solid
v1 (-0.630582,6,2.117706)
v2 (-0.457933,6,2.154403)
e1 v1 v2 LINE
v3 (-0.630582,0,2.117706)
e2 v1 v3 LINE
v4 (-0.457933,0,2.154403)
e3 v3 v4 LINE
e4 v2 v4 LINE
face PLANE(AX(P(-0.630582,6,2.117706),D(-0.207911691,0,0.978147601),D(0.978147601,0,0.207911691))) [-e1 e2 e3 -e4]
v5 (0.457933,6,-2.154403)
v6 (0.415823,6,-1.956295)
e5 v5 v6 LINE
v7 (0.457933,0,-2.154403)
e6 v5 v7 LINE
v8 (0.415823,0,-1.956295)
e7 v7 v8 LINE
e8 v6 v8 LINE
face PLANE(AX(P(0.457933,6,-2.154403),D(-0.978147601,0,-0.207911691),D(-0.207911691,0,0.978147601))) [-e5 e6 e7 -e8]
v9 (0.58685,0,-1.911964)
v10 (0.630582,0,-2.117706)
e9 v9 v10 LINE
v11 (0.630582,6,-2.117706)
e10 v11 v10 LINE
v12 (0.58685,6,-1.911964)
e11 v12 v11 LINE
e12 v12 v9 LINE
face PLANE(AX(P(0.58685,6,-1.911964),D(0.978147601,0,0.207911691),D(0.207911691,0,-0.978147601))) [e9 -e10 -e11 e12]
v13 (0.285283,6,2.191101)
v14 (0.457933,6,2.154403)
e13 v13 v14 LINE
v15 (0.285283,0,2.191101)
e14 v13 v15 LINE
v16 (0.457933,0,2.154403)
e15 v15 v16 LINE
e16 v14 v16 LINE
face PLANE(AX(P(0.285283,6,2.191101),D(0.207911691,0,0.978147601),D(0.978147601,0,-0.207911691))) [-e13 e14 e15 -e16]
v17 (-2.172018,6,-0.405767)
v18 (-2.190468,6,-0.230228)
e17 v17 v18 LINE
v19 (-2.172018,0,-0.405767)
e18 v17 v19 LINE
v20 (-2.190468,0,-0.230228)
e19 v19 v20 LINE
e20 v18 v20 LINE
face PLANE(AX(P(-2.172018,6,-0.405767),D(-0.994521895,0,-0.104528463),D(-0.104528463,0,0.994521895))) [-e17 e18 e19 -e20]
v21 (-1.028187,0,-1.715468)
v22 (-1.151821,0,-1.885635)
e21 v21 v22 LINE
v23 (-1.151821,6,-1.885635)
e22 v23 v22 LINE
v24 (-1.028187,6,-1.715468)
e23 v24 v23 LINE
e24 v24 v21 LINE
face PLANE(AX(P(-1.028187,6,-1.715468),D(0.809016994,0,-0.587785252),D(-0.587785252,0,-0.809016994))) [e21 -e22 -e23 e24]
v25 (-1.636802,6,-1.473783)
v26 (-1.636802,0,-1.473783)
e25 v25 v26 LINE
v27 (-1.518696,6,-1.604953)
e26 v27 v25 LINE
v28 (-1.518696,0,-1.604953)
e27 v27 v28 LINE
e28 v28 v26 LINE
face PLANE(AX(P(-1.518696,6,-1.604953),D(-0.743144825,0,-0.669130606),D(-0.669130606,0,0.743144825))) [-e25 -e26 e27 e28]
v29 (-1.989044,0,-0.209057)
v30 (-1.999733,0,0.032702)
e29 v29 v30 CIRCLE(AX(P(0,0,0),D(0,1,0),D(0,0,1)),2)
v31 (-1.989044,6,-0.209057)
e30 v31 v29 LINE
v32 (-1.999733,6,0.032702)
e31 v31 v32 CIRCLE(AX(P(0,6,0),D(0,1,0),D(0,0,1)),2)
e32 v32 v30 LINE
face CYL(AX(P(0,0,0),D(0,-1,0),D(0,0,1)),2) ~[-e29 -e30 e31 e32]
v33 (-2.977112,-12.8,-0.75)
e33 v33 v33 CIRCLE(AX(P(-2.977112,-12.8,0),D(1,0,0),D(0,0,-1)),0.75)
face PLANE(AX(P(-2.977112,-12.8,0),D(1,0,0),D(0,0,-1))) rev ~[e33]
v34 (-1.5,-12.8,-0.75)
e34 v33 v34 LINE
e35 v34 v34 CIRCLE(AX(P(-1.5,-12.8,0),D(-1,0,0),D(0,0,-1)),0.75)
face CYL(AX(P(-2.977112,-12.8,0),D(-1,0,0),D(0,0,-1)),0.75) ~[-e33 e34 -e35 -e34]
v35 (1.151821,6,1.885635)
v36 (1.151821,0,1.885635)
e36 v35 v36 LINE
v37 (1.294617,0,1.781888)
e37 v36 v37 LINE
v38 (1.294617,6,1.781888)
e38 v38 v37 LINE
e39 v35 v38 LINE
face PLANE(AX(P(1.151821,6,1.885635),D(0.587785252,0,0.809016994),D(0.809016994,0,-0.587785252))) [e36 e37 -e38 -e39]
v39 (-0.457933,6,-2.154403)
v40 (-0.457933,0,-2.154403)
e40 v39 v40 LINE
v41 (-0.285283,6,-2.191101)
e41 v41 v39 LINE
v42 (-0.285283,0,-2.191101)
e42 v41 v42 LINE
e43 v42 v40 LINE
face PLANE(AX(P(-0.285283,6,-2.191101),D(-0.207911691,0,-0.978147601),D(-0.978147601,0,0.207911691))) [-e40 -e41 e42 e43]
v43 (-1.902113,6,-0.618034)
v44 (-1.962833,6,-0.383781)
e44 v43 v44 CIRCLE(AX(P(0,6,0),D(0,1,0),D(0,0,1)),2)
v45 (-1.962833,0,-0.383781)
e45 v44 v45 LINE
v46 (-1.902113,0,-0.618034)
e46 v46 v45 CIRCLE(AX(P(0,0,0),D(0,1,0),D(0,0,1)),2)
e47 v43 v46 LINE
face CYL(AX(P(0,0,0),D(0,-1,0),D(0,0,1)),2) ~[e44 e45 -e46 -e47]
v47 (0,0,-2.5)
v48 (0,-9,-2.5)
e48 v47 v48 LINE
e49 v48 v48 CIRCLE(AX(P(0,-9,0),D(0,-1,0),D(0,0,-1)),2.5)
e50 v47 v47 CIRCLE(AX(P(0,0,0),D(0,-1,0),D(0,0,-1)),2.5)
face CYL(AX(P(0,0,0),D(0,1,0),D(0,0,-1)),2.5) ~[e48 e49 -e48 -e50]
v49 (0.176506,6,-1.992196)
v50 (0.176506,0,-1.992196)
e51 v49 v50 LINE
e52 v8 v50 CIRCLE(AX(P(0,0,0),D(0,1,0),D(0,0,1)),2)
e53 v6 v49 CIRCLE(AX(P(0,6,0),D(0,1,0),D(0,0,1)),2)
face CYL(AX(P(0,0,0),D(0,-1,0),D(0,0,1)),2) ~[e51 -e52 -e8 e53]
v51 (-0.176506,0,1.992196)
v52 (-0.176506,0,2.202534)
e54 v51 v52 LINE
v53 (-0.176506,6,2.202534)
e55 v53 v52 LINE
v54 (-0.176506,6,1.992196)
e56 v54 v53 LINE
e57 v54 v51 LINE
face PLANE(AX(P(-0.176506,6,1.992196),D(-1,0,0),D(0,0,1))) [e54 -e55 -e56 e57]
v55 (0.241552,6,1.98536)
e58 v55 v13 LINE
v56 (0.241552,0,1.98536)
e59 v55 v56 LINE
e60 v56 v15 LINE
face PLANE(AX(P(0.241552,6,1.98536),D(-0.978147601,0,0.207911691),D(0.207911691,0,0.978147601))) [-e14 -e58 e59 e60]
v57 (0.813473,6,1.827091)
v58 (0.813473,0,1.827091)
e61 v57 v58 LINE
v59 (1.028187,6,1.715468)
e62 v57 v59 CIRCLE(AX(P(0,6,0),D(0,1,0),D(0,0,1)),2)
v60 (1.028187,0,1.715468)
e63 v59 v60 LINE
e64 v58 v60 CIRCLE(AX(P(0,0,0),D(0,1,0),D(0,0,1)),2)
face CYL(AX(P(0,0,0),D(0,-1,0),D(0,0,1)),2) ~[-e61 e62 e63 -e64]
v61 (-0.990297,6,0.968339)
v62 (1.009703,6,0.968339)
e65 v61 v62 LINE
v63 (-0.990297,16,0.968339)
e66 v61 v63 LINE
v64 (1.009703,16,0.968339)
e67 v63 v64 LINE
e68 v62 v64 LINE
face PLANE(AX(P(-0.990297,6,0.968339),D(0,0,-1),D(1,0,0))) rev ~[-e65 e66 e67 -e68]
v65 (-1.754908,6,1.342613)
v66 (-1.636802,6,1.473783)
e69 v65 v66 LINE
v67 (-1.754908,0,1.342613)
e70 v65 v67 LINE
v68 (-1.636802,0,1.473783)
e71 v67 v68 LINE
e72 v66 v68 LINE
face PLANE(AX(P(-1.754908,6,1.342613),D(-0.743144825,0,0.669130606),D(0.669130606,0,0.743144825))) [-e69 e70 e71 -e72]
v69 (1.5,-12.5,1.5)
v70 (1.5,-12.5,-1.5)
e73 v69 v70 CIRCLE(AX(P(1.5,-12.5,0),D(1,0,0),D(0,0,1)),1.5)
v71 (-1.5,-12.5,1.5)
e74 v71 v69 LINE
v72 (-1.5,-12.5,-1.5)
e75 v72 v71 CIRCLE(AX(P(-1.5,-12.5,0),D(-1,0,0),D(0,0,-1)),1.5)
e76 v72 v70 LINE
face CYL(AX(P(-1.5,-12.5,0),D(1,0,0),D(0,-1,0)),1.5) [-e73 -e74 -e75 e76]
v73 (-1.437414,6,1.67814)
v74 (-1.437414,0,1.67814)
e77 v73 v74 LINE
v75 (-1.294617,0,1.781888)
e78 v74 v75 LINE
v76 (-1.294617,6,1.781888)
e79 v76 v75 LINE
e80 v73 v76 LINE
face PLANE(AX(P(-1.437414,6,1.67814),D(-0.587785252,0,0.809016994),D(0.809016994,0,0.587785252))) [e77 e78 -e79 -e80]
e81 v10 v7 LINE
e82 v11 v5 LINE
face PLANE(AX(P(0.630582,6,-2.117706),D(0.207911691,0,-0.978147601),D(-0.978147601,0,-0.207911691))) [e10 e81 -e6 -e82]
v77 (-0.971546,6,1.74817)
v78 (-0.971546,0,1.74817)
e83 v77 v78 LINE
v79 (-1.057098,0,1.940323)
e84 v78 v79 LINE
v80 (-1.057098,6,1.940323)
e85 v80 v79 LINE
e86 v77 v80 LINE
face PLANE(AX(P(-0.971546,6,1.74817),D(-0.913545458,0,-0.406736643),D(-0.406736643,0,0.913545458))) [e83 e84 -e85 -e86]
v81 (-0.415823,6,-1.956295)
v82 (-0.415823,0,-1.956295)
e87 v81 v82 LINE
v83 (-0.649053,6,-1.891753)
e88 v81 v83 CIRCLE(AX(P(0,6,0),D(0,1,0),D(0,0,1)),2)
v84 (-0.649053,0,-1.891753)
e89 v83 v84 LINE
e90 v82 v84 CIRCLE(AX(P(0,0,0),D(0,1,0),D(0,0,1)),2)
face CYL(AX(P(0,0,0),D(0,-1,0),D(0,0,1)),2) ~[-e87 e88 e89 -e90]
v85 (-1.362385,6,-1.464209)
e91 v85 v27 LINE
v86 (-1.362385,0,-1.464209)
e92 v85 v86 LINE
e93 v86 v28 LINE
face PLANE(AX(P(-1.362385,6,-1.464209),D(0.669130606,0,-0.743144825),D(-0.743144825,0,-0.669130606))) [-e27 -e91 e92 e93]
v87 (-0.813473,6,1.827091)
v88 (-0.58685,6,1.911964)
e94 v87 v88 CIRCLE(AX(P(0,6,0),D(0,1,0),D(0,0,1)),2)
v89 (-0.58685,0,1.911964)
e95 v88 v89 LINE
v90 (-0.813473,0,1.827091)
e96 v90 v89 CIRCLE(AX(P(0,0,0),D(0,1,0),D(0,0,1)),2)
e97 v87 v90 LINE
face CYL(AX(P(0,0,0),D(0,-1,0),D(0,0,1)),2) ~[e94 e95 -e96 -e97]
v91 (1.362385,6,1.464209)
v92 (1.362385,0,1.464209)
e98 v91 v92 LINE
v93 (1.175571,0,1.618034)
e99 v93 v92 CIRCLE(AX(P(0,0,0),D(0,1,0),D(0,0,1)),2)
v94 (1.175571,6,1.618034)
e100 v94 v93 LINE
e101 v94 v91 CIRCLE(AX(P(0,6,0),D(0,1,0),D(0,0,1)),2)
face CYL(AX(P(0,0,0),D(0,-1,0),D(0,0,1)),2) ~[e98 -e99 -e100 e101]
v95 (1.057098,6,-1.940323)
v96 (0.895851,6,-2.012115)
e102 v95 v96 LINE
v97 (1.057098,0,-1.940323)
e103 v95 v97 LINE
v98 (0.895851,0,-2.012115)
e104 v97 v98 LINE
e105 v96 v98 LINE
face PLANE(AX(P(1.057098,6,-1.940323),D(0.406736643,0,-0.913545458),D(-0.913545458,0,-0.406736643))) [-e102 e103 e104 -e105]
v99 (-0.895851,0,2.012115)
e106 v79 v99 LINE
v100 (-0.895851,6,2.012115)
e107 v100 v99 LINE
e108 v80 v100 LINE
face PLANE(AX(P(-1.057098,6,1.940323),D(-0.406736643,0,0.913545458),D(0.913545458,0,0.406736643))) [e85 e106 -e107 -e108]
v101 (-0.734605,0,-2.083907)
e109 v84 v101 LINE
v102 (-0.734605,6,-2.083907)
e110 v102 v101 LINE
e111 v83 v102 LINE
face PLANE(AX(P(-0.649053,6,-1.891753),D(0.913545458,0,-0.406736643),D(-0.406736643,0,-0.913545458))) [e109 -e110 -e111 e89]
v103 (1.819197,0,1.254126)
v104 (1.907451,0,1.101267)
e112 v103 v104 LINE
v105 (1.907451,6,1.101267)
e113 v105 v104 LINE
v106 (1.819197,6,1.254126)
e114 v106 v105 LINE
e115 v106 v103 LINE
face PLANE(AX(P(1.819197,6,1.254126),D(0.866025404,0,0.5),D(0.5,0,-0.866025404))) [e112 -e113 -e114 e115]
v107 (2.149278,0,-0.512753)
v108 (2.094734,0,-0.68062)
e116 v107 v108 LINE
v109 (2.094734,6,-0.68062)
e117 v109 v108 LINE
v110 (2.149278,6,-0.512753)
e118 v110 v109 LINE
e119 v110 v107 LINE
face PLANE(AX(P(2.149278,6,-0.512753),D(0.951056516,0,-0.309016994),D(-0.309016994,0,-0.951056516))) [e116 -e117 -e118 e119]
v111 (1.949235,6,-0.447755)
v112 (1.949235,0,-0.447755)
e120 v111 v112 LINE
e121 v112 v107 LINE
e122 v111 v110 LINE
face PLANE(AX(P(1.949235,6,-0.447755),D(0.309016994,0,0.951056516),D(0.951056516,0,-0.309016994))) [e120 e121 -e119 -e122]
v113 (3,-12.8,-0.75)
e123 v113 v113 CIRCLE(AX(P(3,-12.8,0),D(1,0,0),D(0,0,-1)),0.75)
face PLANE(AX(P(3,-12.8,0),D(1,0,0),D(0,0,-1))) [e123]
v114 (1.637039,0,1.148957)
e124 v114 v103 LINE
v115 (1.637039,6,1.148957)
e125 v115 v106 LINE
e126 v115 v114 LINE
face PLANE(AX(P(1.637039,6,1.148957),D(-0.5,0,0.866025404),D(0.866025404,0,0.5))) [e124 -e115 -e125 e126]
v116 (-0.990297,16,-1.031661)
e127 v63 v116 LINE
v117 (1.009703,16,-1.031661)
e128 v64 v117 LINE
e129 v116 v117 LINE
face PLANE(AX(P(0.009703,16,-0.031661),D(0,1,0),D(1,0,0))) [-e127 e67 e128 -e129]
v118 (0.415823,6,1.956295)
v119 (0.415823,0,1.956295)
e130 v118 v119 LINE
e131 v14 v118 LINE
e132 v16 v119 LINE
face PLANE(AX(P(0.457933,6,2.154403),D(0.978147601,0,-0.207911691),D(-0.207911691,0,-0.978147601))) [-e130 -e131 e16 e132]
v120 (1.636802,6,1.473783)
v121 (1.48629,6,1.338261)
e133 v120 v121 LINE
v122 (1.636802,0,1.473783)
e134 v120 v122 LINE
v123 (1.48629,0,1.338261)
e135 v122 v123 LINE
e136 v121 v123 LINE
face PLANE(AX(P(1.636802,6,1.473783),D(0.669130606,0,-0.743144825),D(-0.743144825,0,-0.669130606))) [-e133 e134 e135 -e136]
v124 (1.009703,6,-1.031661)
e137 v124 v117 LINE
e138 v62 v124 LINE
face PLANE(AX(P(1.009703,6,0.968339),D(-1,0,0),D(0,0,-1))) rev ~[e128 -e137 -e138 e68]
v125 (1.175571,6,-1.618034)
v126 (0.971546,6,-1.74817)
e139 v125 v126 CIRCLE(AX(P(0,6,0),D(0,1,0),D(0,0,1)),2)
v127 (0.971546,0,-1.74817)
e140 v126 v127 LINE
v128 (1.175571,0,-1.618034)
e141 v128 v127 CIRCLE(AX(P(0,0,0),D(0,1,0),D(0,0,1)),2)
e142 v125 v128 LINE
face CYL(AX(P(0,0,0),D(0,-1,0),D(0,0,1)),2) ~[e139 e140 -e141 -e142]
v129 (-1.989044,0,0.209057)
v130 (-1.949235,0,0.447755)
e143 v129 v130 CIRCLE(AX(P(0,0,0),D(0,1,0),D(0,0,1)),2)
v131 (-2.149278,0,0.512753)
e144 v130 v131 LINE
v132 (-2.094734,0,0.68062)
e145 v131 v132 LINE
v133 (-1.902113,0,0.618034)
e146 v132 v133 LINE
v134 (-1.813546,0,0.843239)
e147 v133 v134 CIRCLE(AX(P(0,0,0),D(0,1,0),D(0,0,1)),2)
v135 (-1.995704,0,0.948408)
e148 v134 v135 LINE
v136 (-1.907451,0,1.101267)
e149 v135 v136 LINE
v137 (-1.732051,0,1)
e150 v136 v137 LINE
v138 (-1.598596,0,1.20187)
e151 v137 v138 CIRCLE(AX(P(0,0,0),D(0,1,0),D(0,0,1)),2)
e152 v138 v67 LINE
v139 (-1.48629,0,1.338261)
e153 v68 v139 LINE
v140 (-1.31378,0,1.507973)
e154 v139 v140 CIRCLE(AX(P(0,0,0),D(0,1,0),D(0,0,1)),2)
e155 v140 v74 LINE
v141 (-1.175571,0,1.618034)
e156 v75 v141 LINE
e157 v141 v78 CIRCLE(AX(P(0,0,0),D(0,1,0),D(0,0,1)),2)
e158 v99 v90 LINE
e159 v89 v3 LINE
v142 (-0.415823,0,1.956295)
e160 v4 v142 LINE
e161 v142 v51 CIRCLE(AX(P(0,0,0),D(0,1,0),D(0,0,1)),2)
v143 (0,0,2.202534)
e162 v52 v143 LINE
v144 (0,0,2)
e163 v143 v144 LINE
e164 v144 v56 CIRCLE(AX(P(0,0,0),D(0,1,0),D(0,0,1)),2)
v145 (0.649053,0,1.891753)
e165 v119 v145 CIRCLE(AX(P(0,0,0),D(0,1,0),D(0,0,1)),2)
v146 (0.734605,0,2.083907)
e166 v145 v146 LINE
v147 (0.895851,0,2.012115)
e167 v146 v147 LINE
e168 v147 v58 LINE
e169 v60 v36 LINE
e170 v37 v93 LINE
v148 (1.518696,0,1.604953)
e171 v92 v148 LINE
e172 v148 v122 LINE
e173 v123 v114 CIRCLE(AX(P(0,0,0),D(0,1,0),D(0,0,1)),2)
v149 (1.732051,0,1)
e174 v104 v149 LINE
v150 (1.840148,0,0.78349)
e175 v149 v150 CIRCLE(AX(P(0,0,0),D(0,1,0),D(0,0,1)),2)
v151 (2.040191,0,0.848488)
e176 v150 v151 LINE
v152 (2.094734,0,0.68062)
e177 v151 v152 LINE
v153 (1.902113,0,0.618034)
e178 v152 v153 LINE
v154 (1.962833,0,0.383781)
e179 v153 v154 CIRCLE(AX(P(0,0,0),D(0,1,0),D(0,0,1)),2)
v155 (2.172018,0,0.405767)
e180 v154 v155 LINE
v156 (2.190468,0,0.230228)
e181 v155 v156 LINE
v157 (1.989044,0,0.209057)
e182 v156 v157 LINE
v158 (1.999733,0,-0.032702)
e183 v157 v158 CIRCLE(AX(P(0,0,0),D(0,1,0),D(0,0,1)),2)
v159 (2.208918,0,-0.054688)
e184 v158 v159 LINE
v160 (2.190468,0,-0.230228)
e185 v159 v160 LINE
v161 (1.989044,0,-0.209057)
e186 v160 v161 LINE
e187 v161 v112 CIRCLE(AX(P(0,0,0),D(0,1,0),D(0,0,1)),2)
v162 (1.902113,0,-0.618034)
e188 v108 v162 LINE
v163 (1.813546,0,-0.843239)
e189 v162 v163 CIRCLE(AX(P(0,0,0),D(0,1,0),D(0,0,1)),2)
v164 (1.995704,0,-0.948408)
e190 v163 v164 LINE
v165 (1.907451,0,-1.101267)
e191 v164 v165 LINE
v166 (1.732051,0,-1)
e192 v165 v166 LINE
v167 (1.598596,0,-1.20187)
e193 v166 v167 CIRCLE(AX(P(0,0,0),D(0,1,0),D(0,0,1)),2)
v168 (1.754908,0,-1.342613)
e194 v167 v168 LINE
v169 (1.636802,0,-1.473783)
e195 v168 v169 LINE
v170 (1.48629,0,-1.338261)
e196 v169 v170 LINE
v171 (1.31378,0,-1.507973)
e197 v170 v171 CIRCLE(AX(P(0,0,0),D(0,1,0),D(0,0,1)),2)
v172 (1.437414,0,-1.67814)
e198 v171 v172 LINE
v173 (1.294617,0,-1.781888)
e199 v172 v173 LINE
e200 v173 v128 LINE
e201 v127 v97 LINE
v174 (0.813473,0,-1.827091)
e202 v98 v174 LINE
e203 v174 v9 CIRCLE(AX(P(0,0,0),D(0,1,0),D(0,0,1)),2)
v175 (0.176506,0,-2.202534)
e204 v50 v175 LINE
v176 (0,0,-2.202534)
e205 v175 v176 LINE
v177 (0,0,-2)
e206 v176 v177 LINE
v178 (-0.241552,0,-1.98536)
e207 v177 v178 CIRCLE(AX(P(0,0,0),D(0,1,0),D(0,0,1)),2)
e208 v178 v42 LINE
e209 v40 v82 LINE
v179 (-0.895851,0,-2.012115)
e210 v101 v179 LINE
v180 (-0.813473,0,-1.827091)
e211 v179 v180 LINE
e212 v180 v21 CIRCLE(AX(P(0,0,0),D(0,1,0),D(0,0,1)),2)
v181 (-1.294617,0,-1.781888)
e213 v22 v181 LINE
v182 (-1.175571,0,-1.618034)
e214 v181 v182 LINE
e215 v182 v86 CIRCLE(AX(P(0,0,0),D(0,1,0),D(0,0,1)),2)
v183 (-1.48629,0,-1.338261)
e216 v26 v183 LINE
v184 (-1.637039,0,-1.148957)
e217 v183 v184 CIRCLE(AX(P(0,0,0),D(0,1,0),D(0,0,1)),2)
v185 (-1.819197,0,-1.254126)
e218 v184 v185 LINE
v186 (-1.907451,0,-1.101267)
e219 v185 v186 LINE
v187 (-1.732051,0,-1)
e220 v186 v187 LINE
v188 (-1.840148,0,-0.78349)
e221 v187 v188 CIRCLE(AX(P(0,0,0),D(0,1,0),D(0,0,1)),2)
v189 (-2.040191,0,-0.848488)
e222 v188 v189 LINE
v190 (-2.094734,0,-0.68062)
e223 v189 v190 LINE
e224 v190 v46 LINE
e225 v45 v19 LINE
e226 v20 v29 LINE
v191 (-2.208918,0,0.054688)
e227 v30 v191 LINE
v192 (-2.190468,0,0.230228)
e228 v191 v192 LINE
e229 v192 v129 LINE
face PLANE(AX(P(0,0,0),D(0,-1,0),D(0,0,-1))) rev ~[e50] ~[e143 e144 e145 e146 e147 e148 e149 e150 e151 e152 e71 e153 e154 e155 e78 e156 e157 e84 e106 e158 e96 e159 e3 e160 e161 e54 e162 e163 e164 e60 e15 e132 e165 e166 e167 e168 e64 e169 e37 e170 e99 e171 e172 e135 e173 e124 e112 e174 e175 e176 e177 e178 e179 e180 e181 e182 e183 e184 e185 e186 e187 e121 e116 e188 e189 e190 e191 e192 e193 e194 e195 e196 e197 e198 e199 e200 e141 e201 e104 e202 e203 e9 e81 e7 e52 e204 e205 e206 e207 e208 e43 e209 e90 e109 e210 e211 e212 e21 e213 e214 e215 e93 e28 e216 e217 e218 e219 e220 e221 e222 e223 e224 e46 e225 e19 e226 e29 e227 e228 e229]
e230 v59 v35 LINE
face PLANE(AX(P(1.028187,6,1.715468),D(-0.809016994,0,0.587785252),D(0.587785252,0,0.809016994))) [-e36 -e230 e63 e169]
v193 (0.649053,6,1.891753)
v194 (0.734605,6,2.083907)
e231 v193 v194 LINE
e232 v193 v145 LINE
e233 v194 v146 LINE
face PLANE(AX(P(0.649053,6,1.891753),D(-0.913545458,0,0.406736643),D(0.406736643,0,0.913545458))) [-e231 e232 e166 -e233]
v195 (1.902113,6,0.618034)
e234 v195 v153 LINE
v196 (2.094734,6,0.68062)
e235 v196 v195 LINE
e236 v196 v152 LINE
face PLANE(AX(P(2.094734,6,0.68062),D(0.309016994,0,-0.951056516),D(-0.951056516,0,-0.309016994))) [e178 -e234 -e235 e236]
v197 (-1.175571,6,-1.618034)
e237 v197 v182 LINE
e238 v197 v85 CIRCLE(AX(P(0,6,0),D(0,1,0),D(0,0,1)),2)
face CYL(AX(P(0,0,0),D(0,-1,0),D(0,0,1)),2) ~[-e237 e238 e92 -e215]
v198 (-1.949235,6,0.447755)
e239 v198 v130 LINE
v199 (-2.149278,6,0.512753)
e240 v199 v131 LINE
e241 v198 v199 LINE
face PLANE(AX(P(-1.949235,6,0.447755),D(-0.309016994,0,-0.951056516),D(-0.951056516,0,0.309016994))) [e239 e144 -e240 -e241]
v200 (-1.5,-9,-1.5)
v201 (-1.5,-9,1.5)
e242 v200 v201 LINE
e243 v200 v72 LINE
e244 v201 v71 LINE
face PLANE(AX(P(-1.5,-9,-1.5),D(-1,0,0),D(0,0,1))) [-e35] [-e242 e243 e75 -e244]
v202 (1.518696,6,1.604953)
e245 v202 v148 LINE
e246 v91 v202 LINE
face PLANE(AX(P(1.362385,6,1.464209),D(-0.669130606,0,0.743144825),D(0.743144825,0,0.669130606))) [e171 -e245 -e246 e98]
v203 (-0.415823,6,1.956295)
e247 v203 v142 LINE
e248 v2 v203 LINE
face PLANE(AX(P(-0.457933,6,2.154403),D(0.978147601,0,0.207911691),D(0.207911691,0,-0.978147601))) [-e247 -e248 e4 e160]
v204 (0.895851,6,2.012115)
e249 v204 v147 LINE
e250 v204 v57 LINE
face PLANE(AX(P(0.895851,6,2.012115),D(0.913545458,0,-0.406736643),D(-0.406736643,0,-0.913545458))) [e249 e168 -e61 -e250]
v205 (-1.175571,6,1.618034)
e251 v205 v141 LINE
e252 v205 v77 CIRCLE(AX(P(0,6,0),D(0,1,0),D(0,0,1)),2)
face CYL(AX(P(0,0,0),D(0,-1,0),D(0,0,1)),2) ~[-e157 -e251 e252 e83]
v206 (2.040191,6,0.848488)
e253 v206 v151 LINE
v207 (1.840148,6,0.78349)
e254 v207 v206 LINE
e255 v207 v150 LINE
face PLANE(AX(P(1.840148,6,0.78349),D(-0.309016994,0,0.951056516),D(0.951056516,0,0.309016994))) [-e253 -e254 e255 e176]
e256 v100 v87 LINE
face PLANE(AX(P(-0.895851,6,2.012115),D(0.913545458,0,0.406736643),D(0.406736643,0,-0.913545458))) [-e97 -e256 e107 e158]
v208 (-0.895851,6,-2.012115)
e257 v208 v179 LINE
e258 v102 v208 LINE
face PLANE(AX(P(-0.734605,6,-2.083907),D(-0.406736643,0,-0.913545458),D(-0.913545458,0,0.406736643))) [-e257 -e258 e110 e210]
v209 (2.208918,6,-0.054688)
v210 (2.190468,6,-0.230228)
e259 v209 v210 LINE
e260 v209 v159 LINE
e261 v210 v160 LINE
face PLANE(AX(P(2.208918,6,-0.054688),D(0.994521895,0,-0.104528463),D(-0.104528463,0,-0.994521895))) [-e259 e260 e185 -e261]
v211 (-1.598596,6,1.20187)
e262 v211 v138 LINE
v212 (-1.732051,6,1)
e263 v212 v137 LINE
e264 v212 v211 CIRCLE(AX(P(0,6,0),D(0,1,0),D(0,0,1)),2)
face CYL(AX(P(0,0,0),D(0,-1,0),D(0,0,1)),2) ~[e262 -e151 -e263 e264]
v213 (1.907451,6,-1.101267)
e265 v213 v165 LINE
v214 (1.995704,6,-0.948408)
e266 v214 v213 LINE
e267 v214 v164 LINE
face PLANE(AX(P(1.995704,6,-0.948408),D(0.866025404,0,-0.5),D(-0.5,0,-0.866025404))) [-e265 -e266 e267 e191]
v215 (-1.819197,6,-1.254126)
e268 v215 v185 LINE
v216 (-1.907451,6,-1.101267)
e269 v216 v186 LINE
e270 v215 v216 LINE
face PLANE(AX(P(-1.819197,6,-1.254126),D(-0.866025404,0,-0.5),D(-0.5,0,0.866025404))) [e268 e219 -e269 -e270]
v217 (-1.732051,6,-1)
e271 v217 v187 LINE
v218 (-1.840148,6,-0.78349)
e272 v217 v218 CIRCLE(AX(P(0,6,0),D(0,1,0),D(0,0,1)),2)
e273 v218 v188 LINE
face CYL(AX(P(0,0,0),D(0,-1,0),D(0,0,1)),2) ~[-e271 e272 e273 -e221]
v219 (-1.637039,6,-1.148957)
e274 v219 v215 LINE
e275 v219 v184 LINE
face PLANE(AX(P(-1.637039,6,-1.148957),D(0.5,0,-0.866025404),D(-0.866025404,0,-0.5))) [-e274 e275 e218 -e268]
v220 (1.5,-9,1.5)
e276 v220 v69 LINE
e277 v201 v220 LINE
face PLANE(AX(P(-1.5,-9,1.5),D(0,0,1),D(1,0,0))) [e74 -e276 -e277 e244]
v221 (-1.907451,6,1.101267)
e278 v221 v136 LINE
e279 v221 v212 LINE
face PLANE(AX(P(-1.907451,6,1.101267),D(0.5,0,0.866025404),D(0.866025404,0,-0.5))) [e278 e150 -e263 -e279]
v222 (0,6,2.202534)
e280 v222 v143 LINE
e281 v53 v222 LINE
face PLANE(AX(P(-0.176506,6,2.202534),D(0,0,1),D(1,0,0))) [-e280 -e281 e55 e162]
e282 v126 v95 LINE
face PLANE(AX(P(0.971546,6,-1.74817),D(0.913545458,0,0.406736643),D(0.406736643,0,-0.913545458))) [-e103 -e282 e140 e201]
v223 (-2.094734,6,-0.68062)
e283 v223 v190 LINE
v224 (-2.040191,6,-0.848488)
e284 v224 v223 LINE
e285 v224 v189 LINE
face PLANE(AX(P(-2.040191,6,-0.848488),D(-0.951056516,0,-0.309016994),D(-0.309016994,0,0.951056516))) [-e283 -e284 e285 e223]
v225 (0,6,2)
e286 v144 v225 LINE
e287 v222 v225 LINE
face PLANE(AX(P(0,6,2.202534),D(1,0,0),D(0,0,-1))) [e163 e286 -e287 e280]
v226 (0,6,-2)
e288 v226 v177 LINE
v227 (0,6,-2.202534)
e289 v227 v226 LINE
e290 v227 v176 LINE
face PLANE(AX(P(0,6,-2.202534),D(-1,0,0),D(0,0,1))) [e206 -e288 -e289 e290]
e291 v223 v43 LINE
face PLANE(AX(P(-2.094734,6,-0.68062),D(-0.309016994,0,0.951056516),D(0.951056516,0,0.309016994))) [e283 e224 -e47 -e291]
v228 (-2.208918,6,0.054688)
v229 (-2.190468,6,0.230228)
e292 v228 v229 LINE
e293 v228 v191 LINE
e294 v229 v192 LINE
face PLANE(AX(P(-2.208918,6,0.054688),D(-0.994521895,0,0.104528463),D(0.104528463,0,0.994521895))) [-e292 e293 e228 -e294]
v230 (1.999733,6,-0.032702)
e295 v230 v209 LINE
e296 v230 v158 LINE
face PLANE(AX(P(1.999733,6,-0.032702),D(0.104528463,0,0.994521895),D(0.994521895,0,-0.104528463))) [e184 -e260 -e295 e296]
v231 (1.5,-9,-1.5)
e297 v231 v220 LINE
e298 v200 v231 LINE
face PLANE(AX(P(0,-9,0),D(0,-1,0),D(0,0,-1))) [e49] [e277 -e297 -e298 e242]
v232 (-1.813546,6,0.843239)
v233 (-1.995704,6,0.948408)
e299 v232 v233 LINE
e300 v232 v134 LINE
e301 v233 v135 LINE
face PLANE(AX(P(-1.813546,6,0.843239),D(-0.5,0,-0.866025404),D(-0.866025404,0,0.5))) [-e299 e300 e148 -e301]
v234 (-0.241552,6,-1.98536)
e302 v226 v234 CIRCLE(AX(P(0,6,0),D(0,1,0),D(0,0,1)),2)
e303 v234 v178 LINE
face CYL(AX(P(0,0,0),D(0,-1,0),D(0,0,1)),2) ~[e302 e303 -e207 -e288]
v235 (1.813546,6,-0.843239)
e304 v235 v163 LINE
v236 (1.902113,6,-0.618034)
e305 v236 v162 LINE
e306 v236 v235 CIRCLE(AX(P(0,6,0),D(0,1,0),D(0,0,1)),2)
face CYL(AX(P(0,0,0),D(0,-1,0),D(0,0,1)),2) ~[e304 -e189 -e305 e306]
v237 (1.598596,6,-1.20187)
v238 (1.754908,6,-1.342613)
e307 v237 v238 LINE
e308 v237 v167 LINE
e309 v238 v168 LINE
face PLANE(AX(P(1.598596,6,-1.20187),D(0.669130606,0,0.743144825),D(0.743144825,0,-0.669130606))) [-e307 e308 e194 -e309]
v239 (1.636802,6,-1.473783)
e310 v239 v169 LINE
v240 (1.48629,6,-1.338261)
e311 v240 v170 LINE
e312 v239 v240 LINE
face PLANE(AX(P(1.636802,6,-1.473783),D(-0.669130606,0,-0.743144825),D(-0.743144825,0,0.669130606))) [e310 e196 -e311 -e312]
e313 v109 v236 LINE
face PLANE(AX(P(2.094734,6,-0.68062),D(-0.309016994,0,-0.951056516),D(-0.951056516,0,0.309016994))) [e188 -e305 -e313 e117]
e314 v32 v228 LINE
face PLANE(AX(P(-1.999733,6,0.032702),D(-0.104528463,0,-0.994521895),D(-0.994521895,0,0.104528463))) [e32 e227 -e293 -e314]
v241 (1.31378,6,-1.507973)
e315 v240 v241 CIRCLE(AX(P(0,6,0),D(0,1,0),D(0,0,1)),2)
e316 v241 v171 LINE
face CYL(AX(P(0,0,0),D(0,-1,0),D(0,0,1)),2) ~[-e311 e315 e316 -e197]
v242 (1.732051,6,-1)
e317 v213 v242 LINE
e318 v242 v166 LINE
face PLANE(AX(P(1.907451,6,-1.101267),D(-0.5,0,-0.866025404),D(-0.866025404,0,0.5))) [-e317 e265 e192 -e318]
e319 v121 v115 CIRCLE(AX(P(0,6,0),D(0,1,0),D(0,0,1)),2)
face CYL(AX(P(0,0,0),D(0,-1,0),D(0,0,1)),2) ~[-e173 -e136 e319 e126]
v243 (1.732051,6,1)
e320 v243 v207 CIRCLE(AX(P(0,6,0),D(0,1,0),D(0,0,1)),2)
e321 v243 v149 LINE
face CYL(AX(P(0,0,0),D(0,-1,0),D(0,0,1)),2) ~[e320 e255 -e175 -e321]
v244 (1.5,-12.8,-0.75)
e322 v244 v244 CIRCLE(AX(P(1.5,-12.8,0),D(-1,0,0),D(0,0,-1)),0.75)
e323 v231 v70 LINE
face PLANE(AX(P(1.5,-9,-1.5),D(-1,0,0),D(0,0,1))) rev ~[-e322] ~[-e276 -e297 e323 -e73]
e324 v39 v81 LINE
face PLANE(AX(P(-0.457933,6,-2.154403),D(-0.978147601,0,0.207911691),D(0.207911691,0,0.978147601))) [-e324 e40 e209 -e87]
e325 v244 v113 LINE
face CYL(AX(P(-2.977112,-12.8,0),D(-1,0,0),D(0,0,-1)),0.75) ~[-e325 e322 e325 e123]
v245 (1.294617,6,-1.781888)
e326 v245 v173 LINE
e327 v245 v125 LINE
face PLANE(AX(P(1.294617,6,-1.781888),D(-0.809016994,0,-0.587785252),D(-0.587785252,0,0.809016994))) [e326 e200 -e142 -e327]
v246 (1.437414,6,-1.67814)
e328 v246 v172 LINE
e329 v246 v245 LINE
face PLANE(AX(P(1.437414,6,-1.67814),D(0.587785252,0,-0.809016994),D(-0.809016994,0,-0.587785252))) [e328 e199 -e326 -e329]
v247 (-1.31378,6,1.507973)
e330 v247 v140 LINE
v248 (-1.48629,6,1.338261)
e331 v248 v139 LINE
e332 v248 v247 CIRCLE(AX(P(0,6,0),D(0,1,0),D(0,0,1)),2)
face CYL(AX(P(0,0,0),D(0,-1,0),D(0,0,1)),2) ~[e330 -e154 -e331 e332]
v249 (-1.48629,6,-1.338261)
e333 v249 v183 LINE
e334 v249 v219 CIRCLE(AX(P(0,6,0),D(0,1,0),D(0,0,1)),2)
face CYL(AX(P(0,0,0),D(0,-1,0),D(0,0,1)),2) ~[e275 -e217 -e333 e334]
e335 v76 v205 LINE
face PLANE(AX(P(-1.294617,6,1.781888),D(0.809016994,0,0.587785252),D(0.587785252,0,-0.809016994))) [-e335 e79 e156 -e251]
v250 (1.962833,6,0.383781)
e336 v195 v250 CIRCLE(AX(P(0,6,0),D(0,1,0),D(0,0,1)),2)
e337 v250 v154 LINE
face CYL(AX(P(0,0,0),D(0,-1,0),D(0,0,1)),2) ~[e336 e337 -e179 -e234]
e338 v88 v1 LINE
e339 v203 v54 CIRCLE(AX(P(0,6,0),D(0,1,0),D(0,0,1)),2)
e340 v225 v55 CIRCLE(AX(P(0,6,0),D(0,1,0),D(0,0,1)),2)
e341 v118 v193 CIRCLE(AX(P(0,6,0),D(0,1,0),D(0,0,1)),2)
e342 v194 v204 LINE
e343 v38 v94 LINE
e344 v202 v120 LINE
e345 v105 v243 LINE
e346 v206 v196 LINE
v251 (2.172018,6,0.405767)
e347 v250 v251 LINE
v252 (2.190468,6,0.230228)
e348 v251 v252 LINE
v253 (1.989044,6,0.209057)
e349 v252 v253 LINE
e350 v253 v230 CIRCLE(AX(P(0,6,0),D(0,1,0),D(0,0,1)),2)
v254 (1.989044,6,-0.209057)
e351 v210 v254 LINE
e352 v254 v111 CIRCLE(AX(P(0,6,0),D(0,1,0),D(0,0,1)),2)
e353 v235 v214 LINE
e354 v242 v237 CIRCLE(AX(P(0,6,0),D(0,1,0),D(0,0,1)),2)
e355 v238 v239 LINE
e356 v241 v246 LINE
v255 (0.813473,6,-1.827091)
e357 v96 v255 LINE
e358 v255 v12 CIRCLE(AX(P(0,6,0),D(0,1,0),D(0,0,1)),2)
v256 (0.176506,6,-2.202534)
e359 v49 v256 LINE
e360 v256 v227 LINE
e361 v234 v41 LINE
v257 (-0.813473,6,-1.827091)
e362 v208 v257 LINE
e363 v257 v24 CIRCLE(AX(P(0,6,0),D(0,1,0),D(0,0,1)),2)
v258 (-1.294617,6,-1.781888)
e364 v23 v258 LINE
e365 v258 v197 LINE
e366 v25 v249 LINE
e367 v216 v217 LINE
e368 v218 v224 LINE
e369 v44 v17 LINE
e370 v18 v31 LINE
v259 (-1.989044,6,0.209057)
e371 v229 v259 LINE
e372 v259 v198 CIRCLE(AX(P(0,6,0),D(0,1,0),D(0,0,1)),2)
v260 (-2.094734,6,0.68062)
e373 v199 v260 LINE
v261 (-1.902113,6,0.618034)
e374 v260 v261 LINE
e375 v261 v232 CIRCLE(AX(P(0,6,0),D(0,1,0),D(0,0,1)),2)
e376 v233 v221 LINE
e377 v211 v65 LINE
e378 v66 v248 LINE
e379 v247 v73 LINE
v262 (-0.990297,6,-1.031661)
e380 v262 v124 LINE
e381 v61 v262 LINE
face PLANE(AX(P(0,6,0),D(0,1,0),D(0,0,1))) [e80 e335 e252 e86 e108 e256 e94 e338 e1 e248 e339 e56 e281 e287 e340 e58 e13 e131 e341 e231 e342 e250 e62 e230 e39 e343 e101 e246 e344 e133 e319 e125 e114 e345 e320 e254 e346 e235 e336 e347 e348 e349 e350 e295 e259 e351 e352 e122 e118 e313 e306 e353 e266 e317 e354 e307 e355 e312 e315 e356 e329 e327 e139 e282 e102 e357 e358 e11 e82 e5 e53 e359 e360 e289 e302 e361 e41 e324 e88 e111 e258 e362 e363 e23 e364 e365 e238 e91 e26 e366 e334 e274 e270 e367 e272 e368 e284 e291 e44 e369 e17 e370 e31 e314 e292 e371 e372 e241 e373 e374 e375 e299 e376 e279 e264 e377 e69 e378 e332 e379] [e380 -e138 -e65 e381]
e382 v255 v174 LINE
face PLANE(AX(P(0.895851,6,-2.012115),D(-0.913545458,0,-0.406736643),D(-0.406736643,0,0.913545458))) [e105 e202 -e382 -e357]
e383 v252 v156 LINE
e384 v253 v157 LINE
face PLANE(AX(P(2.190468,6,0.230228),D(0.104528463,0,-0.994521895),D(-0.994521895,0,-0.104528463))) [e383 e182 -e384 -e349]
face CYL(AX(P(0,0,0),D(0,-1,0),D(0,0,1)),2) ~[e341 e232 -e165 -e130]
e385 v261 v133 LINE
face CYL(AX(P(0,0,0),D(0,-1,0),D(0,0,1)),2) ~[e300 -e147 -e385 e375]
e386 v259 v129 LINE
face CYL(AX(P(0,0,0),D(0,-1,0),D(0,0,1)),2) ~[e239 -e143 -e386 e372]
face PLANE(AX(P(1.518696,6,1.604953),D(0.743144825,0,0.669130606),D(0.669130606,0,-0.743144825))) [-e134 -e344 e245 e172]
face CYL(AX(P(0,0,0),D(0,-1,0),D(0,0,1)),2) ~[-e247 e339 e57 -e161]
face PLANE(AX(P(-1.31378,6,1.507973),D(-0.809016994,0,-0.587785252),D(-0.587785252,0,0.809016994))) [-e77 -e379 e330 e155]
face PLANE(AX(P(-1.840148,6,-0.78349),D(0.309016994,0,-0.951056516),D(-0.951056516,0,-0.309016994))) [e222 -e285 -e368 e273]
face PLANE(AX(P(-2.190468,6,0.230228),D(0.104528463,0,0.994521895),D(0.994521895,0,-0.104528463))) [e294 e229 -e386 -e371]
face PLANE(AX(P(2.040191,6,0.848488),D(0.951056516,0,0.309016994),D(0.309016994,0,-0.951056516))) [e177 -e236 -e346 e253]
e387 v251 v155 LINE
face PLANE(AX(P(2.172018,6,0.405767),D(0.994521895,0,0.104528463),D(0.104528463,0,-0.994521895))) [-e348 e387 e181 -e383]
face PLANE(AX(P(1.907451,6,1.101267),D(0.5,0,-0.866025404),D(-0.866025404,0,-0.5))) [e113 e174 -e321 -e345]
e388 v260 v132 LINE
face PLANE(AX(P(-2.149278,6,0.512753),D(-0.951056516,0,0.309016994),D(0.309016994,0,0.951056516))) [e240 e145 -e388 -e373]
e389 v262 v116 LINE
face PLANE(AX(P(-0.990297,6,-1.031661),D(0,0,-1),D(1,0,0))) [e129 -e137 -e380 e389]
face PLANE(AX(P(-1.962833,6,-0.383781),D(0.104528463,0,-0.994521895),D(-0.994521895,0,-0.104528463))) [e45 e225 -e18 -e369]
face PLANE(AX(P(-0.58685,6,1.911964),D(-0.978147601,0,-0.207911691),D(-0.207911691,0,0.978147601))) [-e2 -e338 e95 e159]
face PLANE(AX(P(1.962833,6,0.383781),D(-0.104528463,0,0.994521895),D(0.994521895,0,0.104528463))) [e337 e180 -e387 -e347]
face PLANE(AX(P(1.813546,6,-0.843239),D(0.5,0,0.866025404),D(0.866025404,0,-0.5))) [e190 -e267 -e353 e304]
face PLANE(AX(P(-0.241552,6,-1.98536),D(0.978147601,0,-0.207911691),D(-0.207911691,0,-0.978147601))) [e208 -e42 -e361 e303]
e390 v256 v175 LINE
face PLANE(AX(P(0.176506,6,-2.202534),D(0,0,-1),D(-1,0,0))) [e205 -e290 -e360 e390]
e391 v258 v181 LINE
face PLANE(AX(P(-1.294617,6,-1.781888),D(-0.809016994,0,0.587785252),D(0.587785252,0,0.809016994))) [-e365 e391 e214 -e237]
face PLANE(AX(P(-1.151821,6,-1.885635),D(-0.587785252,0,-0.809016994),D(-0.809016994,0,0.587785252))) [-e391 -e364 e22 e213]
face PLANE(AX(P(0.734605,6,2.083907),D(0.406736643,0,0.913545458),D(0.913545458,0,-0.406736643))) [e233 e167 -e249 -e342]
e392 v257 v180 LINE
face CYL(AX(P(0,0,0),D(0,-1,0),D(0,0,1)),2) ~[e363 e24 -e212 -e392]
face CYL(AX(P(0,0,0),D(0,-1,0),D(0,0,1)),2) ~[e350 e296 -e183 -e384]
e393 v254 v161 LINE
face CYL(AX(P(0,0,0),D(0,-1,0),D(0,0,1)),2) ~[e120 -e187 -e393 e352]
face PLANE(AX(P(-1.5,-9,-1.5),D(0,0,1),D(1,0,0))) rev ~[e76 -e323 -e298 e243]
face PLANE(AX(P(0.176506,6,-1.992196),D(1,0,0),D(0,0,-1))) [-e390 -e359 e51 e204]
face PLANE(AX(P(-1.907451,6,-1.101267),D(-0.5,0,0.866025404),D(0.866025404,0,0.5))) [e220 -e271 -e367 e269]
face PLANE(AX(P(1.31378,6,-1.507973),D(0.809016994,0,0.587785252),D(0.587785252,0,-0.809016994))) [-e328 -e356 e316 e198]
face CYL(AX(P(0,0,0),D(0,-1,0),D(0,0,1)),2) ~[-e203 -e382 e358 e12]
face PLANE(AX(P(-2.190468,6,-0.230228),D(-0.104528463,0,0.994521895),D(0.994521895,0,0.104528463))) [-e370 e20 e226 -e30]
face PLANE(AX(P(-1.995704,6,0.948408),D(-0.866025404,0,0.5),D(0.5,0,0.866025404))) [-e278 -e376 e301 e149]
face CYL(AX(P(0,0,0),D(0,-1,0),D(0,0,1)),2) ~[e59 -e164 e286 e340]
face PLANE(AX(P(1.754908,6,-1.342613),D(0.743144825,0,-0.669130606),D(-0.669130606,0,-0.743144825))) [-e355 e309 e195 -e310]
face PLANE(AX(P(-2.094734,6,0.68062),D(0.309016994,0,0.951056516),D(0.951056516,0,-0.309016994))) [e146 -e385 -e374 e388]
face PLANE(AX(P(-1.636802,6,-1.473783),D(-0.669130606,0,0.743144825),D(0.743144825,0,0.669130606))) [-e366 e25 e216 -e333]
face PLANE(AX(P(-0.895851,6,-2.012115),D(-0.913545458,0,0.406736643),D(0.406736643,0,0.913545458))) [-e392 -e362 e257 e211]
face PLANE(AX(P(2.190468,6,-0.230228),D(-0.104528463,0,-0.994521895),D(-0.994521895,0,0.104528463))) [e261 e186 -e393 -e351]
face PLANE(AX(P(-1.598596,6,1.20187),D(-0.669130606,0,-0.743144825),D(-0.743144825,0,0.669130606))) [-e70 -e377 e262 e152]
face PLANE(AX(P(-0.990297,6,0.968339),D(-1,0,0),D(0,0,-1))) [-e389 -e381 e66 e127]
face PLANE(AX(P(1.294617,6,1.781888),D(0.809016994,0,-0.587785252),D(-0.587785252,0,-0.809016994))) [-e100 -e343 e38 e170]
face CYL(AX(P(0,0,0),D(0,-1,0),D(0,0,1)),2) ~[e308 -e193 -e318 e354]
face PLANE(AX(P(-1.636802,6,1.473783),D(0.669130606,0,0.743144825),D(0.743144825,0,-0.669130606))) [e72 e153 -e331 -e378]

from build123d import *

# Parameters (mm, degrees)
SKETCH1_R                = 2
BOSS_EXTRUDE1_DEPTH      = 6
BOSS_EXTRUDE3_DEPTH      = 6
CIRPATTERN1_COUNT        = 30
SKETCH9_R                = 2.5
BOSS_EXTRUDE5_DEPTH      = 9
SKETCH10_W               = 2
SKETCH10_H               = 2
BOSS_EXTRUDE6_DEPTH      = 10
SKETCH11_W               = 3
SKETCH11_H               = 3
BOSS_EXTRUDE7_DEPTH      = 5
FILLET1_RADIUS           = 1.5
FILLET1_LENGTH           = 3
BOSS_EXTRUDE9_DEPTH      = 1.5
BOSS_EXTRUDE9_DEPTH_BACK = 4.477112072
SKETCH12_R               = 0.75


with BuildPart() as part:
    # Sketch1 → Boss-Extrude1 (new body)
    with BuildSketch(Plane(origin=(0, 0, 0), x_dir=(1, 0, 0), z_dir=(0, 1, 0))):
        with Locations(Location((0, 0, 0), (0, 0, 270))):
            Circle(SKETCH1_R)
    extrude(amount=BOSS_EXTRUDE1_DEPTH)

    # Sketch5 → Boss-Extrude3 (add)
    with BuildSketch(Plane(origin=(0, 6, 0), x_dir=(1, 0, 0), z_dir=(0, 1, 0))):
        Polygon((0, -2), (-0.176506233, -1.992196162), (-0.176506233, -2.202534122), (0, -2.202534122), align=None)
    boss_extrude3 = extrude(amount=-BOSS_EXTRUDE3_DEPTH)

    # CirPattern1: Boss-Extrude3 ×30 about axis
    cirpattern1_axis = Axis((0, 0, 0), (0, 1, 0))
    for i in range(1, CIRPATTERN1_COUNT):
        add(boss_extrude3.rotate(cirpattern1_axis, i * 360 / CIRPATTERN1_COUNT))

    # Sketch9 → Boss-Extrude5 (add)
    with BuildSketch(Plane.XZ):
        with Locations(Location((0, 0, 0), (0, 0, 270))):
            Circle(SKETCH9_R)
    extrude(amount=BOSS_EXTRUDE5_DEPTH)

    # Sketch10 → Boss-Extrude6 (add)
    with BuildSketch(Plane(origin=(0, 6, 0), x_dir=(1, 0, 0), z_dir=(0, 1, 0))):
        with Locations((0.009702593, 0.031661031)):
            Rectangle(SKETCH10_W, SKETCH10_H)
    extrude(amount=BOSS_EXTRUDE6_DEPTH)

    # Sketch11 → Boss-Extrude7 (add)
    with BuildSketch(Plane.XZ.offset(9)):
        Rectangle(SKETCH11_W, SKETCH11_H)
    extrude(amount=BOSS_EXTRUDE7_DEPTH)

    # Fillet1: full round fillet: the end face becomes a half cylinder, R = half its width
    fillet1_face = Plane((0, -14, 0), x_dir=(1, 0, 0), z_dir=(0, -1, 0))  # on the end face: x along it, z out of the body
    fillet1_slab = fillet1_face.offset(-FILLET1_RADIUS / 2) * Box(FILLET1_LENGTH, 2 * FILLET1_RADIUS, FILLET1_RADIUS, mode=Mode.PRIVATE)  # the body's end, R deep
    fillet1_round = Plane((0, -12.5, 0), x_dir=(0, -1, 0), z_dir=(1, 0, 0)) * Cylinder(FILLET1_RADIUS, FILLET1_LENGTH, mode=Mode.PRIVATE)  # its axis R under the face
    add(fillet1_slab - fillet1_round, mode=Mode.SUBTRACT)

    # Sketch12 → Boss-Extrude9 (add, two sides: drawn at the far end of the back side and taken through both)
    with BuildSketch(Plane(origin=(1.5, 0, 0), x_dir=(0, 0, -1), z_dir=(1, 0, 0)).offset(-BOSS_EXTRUDE9_DEPTH_BACK)):
        with Locations((0, -12.8)):
            Circle(SKETCH12_R)
    extrude(amount=BOSS_EXTRUDE9_DEPTH + BOSS_EXTRUDE9_DEPTH_BACK)


solid = part.part
